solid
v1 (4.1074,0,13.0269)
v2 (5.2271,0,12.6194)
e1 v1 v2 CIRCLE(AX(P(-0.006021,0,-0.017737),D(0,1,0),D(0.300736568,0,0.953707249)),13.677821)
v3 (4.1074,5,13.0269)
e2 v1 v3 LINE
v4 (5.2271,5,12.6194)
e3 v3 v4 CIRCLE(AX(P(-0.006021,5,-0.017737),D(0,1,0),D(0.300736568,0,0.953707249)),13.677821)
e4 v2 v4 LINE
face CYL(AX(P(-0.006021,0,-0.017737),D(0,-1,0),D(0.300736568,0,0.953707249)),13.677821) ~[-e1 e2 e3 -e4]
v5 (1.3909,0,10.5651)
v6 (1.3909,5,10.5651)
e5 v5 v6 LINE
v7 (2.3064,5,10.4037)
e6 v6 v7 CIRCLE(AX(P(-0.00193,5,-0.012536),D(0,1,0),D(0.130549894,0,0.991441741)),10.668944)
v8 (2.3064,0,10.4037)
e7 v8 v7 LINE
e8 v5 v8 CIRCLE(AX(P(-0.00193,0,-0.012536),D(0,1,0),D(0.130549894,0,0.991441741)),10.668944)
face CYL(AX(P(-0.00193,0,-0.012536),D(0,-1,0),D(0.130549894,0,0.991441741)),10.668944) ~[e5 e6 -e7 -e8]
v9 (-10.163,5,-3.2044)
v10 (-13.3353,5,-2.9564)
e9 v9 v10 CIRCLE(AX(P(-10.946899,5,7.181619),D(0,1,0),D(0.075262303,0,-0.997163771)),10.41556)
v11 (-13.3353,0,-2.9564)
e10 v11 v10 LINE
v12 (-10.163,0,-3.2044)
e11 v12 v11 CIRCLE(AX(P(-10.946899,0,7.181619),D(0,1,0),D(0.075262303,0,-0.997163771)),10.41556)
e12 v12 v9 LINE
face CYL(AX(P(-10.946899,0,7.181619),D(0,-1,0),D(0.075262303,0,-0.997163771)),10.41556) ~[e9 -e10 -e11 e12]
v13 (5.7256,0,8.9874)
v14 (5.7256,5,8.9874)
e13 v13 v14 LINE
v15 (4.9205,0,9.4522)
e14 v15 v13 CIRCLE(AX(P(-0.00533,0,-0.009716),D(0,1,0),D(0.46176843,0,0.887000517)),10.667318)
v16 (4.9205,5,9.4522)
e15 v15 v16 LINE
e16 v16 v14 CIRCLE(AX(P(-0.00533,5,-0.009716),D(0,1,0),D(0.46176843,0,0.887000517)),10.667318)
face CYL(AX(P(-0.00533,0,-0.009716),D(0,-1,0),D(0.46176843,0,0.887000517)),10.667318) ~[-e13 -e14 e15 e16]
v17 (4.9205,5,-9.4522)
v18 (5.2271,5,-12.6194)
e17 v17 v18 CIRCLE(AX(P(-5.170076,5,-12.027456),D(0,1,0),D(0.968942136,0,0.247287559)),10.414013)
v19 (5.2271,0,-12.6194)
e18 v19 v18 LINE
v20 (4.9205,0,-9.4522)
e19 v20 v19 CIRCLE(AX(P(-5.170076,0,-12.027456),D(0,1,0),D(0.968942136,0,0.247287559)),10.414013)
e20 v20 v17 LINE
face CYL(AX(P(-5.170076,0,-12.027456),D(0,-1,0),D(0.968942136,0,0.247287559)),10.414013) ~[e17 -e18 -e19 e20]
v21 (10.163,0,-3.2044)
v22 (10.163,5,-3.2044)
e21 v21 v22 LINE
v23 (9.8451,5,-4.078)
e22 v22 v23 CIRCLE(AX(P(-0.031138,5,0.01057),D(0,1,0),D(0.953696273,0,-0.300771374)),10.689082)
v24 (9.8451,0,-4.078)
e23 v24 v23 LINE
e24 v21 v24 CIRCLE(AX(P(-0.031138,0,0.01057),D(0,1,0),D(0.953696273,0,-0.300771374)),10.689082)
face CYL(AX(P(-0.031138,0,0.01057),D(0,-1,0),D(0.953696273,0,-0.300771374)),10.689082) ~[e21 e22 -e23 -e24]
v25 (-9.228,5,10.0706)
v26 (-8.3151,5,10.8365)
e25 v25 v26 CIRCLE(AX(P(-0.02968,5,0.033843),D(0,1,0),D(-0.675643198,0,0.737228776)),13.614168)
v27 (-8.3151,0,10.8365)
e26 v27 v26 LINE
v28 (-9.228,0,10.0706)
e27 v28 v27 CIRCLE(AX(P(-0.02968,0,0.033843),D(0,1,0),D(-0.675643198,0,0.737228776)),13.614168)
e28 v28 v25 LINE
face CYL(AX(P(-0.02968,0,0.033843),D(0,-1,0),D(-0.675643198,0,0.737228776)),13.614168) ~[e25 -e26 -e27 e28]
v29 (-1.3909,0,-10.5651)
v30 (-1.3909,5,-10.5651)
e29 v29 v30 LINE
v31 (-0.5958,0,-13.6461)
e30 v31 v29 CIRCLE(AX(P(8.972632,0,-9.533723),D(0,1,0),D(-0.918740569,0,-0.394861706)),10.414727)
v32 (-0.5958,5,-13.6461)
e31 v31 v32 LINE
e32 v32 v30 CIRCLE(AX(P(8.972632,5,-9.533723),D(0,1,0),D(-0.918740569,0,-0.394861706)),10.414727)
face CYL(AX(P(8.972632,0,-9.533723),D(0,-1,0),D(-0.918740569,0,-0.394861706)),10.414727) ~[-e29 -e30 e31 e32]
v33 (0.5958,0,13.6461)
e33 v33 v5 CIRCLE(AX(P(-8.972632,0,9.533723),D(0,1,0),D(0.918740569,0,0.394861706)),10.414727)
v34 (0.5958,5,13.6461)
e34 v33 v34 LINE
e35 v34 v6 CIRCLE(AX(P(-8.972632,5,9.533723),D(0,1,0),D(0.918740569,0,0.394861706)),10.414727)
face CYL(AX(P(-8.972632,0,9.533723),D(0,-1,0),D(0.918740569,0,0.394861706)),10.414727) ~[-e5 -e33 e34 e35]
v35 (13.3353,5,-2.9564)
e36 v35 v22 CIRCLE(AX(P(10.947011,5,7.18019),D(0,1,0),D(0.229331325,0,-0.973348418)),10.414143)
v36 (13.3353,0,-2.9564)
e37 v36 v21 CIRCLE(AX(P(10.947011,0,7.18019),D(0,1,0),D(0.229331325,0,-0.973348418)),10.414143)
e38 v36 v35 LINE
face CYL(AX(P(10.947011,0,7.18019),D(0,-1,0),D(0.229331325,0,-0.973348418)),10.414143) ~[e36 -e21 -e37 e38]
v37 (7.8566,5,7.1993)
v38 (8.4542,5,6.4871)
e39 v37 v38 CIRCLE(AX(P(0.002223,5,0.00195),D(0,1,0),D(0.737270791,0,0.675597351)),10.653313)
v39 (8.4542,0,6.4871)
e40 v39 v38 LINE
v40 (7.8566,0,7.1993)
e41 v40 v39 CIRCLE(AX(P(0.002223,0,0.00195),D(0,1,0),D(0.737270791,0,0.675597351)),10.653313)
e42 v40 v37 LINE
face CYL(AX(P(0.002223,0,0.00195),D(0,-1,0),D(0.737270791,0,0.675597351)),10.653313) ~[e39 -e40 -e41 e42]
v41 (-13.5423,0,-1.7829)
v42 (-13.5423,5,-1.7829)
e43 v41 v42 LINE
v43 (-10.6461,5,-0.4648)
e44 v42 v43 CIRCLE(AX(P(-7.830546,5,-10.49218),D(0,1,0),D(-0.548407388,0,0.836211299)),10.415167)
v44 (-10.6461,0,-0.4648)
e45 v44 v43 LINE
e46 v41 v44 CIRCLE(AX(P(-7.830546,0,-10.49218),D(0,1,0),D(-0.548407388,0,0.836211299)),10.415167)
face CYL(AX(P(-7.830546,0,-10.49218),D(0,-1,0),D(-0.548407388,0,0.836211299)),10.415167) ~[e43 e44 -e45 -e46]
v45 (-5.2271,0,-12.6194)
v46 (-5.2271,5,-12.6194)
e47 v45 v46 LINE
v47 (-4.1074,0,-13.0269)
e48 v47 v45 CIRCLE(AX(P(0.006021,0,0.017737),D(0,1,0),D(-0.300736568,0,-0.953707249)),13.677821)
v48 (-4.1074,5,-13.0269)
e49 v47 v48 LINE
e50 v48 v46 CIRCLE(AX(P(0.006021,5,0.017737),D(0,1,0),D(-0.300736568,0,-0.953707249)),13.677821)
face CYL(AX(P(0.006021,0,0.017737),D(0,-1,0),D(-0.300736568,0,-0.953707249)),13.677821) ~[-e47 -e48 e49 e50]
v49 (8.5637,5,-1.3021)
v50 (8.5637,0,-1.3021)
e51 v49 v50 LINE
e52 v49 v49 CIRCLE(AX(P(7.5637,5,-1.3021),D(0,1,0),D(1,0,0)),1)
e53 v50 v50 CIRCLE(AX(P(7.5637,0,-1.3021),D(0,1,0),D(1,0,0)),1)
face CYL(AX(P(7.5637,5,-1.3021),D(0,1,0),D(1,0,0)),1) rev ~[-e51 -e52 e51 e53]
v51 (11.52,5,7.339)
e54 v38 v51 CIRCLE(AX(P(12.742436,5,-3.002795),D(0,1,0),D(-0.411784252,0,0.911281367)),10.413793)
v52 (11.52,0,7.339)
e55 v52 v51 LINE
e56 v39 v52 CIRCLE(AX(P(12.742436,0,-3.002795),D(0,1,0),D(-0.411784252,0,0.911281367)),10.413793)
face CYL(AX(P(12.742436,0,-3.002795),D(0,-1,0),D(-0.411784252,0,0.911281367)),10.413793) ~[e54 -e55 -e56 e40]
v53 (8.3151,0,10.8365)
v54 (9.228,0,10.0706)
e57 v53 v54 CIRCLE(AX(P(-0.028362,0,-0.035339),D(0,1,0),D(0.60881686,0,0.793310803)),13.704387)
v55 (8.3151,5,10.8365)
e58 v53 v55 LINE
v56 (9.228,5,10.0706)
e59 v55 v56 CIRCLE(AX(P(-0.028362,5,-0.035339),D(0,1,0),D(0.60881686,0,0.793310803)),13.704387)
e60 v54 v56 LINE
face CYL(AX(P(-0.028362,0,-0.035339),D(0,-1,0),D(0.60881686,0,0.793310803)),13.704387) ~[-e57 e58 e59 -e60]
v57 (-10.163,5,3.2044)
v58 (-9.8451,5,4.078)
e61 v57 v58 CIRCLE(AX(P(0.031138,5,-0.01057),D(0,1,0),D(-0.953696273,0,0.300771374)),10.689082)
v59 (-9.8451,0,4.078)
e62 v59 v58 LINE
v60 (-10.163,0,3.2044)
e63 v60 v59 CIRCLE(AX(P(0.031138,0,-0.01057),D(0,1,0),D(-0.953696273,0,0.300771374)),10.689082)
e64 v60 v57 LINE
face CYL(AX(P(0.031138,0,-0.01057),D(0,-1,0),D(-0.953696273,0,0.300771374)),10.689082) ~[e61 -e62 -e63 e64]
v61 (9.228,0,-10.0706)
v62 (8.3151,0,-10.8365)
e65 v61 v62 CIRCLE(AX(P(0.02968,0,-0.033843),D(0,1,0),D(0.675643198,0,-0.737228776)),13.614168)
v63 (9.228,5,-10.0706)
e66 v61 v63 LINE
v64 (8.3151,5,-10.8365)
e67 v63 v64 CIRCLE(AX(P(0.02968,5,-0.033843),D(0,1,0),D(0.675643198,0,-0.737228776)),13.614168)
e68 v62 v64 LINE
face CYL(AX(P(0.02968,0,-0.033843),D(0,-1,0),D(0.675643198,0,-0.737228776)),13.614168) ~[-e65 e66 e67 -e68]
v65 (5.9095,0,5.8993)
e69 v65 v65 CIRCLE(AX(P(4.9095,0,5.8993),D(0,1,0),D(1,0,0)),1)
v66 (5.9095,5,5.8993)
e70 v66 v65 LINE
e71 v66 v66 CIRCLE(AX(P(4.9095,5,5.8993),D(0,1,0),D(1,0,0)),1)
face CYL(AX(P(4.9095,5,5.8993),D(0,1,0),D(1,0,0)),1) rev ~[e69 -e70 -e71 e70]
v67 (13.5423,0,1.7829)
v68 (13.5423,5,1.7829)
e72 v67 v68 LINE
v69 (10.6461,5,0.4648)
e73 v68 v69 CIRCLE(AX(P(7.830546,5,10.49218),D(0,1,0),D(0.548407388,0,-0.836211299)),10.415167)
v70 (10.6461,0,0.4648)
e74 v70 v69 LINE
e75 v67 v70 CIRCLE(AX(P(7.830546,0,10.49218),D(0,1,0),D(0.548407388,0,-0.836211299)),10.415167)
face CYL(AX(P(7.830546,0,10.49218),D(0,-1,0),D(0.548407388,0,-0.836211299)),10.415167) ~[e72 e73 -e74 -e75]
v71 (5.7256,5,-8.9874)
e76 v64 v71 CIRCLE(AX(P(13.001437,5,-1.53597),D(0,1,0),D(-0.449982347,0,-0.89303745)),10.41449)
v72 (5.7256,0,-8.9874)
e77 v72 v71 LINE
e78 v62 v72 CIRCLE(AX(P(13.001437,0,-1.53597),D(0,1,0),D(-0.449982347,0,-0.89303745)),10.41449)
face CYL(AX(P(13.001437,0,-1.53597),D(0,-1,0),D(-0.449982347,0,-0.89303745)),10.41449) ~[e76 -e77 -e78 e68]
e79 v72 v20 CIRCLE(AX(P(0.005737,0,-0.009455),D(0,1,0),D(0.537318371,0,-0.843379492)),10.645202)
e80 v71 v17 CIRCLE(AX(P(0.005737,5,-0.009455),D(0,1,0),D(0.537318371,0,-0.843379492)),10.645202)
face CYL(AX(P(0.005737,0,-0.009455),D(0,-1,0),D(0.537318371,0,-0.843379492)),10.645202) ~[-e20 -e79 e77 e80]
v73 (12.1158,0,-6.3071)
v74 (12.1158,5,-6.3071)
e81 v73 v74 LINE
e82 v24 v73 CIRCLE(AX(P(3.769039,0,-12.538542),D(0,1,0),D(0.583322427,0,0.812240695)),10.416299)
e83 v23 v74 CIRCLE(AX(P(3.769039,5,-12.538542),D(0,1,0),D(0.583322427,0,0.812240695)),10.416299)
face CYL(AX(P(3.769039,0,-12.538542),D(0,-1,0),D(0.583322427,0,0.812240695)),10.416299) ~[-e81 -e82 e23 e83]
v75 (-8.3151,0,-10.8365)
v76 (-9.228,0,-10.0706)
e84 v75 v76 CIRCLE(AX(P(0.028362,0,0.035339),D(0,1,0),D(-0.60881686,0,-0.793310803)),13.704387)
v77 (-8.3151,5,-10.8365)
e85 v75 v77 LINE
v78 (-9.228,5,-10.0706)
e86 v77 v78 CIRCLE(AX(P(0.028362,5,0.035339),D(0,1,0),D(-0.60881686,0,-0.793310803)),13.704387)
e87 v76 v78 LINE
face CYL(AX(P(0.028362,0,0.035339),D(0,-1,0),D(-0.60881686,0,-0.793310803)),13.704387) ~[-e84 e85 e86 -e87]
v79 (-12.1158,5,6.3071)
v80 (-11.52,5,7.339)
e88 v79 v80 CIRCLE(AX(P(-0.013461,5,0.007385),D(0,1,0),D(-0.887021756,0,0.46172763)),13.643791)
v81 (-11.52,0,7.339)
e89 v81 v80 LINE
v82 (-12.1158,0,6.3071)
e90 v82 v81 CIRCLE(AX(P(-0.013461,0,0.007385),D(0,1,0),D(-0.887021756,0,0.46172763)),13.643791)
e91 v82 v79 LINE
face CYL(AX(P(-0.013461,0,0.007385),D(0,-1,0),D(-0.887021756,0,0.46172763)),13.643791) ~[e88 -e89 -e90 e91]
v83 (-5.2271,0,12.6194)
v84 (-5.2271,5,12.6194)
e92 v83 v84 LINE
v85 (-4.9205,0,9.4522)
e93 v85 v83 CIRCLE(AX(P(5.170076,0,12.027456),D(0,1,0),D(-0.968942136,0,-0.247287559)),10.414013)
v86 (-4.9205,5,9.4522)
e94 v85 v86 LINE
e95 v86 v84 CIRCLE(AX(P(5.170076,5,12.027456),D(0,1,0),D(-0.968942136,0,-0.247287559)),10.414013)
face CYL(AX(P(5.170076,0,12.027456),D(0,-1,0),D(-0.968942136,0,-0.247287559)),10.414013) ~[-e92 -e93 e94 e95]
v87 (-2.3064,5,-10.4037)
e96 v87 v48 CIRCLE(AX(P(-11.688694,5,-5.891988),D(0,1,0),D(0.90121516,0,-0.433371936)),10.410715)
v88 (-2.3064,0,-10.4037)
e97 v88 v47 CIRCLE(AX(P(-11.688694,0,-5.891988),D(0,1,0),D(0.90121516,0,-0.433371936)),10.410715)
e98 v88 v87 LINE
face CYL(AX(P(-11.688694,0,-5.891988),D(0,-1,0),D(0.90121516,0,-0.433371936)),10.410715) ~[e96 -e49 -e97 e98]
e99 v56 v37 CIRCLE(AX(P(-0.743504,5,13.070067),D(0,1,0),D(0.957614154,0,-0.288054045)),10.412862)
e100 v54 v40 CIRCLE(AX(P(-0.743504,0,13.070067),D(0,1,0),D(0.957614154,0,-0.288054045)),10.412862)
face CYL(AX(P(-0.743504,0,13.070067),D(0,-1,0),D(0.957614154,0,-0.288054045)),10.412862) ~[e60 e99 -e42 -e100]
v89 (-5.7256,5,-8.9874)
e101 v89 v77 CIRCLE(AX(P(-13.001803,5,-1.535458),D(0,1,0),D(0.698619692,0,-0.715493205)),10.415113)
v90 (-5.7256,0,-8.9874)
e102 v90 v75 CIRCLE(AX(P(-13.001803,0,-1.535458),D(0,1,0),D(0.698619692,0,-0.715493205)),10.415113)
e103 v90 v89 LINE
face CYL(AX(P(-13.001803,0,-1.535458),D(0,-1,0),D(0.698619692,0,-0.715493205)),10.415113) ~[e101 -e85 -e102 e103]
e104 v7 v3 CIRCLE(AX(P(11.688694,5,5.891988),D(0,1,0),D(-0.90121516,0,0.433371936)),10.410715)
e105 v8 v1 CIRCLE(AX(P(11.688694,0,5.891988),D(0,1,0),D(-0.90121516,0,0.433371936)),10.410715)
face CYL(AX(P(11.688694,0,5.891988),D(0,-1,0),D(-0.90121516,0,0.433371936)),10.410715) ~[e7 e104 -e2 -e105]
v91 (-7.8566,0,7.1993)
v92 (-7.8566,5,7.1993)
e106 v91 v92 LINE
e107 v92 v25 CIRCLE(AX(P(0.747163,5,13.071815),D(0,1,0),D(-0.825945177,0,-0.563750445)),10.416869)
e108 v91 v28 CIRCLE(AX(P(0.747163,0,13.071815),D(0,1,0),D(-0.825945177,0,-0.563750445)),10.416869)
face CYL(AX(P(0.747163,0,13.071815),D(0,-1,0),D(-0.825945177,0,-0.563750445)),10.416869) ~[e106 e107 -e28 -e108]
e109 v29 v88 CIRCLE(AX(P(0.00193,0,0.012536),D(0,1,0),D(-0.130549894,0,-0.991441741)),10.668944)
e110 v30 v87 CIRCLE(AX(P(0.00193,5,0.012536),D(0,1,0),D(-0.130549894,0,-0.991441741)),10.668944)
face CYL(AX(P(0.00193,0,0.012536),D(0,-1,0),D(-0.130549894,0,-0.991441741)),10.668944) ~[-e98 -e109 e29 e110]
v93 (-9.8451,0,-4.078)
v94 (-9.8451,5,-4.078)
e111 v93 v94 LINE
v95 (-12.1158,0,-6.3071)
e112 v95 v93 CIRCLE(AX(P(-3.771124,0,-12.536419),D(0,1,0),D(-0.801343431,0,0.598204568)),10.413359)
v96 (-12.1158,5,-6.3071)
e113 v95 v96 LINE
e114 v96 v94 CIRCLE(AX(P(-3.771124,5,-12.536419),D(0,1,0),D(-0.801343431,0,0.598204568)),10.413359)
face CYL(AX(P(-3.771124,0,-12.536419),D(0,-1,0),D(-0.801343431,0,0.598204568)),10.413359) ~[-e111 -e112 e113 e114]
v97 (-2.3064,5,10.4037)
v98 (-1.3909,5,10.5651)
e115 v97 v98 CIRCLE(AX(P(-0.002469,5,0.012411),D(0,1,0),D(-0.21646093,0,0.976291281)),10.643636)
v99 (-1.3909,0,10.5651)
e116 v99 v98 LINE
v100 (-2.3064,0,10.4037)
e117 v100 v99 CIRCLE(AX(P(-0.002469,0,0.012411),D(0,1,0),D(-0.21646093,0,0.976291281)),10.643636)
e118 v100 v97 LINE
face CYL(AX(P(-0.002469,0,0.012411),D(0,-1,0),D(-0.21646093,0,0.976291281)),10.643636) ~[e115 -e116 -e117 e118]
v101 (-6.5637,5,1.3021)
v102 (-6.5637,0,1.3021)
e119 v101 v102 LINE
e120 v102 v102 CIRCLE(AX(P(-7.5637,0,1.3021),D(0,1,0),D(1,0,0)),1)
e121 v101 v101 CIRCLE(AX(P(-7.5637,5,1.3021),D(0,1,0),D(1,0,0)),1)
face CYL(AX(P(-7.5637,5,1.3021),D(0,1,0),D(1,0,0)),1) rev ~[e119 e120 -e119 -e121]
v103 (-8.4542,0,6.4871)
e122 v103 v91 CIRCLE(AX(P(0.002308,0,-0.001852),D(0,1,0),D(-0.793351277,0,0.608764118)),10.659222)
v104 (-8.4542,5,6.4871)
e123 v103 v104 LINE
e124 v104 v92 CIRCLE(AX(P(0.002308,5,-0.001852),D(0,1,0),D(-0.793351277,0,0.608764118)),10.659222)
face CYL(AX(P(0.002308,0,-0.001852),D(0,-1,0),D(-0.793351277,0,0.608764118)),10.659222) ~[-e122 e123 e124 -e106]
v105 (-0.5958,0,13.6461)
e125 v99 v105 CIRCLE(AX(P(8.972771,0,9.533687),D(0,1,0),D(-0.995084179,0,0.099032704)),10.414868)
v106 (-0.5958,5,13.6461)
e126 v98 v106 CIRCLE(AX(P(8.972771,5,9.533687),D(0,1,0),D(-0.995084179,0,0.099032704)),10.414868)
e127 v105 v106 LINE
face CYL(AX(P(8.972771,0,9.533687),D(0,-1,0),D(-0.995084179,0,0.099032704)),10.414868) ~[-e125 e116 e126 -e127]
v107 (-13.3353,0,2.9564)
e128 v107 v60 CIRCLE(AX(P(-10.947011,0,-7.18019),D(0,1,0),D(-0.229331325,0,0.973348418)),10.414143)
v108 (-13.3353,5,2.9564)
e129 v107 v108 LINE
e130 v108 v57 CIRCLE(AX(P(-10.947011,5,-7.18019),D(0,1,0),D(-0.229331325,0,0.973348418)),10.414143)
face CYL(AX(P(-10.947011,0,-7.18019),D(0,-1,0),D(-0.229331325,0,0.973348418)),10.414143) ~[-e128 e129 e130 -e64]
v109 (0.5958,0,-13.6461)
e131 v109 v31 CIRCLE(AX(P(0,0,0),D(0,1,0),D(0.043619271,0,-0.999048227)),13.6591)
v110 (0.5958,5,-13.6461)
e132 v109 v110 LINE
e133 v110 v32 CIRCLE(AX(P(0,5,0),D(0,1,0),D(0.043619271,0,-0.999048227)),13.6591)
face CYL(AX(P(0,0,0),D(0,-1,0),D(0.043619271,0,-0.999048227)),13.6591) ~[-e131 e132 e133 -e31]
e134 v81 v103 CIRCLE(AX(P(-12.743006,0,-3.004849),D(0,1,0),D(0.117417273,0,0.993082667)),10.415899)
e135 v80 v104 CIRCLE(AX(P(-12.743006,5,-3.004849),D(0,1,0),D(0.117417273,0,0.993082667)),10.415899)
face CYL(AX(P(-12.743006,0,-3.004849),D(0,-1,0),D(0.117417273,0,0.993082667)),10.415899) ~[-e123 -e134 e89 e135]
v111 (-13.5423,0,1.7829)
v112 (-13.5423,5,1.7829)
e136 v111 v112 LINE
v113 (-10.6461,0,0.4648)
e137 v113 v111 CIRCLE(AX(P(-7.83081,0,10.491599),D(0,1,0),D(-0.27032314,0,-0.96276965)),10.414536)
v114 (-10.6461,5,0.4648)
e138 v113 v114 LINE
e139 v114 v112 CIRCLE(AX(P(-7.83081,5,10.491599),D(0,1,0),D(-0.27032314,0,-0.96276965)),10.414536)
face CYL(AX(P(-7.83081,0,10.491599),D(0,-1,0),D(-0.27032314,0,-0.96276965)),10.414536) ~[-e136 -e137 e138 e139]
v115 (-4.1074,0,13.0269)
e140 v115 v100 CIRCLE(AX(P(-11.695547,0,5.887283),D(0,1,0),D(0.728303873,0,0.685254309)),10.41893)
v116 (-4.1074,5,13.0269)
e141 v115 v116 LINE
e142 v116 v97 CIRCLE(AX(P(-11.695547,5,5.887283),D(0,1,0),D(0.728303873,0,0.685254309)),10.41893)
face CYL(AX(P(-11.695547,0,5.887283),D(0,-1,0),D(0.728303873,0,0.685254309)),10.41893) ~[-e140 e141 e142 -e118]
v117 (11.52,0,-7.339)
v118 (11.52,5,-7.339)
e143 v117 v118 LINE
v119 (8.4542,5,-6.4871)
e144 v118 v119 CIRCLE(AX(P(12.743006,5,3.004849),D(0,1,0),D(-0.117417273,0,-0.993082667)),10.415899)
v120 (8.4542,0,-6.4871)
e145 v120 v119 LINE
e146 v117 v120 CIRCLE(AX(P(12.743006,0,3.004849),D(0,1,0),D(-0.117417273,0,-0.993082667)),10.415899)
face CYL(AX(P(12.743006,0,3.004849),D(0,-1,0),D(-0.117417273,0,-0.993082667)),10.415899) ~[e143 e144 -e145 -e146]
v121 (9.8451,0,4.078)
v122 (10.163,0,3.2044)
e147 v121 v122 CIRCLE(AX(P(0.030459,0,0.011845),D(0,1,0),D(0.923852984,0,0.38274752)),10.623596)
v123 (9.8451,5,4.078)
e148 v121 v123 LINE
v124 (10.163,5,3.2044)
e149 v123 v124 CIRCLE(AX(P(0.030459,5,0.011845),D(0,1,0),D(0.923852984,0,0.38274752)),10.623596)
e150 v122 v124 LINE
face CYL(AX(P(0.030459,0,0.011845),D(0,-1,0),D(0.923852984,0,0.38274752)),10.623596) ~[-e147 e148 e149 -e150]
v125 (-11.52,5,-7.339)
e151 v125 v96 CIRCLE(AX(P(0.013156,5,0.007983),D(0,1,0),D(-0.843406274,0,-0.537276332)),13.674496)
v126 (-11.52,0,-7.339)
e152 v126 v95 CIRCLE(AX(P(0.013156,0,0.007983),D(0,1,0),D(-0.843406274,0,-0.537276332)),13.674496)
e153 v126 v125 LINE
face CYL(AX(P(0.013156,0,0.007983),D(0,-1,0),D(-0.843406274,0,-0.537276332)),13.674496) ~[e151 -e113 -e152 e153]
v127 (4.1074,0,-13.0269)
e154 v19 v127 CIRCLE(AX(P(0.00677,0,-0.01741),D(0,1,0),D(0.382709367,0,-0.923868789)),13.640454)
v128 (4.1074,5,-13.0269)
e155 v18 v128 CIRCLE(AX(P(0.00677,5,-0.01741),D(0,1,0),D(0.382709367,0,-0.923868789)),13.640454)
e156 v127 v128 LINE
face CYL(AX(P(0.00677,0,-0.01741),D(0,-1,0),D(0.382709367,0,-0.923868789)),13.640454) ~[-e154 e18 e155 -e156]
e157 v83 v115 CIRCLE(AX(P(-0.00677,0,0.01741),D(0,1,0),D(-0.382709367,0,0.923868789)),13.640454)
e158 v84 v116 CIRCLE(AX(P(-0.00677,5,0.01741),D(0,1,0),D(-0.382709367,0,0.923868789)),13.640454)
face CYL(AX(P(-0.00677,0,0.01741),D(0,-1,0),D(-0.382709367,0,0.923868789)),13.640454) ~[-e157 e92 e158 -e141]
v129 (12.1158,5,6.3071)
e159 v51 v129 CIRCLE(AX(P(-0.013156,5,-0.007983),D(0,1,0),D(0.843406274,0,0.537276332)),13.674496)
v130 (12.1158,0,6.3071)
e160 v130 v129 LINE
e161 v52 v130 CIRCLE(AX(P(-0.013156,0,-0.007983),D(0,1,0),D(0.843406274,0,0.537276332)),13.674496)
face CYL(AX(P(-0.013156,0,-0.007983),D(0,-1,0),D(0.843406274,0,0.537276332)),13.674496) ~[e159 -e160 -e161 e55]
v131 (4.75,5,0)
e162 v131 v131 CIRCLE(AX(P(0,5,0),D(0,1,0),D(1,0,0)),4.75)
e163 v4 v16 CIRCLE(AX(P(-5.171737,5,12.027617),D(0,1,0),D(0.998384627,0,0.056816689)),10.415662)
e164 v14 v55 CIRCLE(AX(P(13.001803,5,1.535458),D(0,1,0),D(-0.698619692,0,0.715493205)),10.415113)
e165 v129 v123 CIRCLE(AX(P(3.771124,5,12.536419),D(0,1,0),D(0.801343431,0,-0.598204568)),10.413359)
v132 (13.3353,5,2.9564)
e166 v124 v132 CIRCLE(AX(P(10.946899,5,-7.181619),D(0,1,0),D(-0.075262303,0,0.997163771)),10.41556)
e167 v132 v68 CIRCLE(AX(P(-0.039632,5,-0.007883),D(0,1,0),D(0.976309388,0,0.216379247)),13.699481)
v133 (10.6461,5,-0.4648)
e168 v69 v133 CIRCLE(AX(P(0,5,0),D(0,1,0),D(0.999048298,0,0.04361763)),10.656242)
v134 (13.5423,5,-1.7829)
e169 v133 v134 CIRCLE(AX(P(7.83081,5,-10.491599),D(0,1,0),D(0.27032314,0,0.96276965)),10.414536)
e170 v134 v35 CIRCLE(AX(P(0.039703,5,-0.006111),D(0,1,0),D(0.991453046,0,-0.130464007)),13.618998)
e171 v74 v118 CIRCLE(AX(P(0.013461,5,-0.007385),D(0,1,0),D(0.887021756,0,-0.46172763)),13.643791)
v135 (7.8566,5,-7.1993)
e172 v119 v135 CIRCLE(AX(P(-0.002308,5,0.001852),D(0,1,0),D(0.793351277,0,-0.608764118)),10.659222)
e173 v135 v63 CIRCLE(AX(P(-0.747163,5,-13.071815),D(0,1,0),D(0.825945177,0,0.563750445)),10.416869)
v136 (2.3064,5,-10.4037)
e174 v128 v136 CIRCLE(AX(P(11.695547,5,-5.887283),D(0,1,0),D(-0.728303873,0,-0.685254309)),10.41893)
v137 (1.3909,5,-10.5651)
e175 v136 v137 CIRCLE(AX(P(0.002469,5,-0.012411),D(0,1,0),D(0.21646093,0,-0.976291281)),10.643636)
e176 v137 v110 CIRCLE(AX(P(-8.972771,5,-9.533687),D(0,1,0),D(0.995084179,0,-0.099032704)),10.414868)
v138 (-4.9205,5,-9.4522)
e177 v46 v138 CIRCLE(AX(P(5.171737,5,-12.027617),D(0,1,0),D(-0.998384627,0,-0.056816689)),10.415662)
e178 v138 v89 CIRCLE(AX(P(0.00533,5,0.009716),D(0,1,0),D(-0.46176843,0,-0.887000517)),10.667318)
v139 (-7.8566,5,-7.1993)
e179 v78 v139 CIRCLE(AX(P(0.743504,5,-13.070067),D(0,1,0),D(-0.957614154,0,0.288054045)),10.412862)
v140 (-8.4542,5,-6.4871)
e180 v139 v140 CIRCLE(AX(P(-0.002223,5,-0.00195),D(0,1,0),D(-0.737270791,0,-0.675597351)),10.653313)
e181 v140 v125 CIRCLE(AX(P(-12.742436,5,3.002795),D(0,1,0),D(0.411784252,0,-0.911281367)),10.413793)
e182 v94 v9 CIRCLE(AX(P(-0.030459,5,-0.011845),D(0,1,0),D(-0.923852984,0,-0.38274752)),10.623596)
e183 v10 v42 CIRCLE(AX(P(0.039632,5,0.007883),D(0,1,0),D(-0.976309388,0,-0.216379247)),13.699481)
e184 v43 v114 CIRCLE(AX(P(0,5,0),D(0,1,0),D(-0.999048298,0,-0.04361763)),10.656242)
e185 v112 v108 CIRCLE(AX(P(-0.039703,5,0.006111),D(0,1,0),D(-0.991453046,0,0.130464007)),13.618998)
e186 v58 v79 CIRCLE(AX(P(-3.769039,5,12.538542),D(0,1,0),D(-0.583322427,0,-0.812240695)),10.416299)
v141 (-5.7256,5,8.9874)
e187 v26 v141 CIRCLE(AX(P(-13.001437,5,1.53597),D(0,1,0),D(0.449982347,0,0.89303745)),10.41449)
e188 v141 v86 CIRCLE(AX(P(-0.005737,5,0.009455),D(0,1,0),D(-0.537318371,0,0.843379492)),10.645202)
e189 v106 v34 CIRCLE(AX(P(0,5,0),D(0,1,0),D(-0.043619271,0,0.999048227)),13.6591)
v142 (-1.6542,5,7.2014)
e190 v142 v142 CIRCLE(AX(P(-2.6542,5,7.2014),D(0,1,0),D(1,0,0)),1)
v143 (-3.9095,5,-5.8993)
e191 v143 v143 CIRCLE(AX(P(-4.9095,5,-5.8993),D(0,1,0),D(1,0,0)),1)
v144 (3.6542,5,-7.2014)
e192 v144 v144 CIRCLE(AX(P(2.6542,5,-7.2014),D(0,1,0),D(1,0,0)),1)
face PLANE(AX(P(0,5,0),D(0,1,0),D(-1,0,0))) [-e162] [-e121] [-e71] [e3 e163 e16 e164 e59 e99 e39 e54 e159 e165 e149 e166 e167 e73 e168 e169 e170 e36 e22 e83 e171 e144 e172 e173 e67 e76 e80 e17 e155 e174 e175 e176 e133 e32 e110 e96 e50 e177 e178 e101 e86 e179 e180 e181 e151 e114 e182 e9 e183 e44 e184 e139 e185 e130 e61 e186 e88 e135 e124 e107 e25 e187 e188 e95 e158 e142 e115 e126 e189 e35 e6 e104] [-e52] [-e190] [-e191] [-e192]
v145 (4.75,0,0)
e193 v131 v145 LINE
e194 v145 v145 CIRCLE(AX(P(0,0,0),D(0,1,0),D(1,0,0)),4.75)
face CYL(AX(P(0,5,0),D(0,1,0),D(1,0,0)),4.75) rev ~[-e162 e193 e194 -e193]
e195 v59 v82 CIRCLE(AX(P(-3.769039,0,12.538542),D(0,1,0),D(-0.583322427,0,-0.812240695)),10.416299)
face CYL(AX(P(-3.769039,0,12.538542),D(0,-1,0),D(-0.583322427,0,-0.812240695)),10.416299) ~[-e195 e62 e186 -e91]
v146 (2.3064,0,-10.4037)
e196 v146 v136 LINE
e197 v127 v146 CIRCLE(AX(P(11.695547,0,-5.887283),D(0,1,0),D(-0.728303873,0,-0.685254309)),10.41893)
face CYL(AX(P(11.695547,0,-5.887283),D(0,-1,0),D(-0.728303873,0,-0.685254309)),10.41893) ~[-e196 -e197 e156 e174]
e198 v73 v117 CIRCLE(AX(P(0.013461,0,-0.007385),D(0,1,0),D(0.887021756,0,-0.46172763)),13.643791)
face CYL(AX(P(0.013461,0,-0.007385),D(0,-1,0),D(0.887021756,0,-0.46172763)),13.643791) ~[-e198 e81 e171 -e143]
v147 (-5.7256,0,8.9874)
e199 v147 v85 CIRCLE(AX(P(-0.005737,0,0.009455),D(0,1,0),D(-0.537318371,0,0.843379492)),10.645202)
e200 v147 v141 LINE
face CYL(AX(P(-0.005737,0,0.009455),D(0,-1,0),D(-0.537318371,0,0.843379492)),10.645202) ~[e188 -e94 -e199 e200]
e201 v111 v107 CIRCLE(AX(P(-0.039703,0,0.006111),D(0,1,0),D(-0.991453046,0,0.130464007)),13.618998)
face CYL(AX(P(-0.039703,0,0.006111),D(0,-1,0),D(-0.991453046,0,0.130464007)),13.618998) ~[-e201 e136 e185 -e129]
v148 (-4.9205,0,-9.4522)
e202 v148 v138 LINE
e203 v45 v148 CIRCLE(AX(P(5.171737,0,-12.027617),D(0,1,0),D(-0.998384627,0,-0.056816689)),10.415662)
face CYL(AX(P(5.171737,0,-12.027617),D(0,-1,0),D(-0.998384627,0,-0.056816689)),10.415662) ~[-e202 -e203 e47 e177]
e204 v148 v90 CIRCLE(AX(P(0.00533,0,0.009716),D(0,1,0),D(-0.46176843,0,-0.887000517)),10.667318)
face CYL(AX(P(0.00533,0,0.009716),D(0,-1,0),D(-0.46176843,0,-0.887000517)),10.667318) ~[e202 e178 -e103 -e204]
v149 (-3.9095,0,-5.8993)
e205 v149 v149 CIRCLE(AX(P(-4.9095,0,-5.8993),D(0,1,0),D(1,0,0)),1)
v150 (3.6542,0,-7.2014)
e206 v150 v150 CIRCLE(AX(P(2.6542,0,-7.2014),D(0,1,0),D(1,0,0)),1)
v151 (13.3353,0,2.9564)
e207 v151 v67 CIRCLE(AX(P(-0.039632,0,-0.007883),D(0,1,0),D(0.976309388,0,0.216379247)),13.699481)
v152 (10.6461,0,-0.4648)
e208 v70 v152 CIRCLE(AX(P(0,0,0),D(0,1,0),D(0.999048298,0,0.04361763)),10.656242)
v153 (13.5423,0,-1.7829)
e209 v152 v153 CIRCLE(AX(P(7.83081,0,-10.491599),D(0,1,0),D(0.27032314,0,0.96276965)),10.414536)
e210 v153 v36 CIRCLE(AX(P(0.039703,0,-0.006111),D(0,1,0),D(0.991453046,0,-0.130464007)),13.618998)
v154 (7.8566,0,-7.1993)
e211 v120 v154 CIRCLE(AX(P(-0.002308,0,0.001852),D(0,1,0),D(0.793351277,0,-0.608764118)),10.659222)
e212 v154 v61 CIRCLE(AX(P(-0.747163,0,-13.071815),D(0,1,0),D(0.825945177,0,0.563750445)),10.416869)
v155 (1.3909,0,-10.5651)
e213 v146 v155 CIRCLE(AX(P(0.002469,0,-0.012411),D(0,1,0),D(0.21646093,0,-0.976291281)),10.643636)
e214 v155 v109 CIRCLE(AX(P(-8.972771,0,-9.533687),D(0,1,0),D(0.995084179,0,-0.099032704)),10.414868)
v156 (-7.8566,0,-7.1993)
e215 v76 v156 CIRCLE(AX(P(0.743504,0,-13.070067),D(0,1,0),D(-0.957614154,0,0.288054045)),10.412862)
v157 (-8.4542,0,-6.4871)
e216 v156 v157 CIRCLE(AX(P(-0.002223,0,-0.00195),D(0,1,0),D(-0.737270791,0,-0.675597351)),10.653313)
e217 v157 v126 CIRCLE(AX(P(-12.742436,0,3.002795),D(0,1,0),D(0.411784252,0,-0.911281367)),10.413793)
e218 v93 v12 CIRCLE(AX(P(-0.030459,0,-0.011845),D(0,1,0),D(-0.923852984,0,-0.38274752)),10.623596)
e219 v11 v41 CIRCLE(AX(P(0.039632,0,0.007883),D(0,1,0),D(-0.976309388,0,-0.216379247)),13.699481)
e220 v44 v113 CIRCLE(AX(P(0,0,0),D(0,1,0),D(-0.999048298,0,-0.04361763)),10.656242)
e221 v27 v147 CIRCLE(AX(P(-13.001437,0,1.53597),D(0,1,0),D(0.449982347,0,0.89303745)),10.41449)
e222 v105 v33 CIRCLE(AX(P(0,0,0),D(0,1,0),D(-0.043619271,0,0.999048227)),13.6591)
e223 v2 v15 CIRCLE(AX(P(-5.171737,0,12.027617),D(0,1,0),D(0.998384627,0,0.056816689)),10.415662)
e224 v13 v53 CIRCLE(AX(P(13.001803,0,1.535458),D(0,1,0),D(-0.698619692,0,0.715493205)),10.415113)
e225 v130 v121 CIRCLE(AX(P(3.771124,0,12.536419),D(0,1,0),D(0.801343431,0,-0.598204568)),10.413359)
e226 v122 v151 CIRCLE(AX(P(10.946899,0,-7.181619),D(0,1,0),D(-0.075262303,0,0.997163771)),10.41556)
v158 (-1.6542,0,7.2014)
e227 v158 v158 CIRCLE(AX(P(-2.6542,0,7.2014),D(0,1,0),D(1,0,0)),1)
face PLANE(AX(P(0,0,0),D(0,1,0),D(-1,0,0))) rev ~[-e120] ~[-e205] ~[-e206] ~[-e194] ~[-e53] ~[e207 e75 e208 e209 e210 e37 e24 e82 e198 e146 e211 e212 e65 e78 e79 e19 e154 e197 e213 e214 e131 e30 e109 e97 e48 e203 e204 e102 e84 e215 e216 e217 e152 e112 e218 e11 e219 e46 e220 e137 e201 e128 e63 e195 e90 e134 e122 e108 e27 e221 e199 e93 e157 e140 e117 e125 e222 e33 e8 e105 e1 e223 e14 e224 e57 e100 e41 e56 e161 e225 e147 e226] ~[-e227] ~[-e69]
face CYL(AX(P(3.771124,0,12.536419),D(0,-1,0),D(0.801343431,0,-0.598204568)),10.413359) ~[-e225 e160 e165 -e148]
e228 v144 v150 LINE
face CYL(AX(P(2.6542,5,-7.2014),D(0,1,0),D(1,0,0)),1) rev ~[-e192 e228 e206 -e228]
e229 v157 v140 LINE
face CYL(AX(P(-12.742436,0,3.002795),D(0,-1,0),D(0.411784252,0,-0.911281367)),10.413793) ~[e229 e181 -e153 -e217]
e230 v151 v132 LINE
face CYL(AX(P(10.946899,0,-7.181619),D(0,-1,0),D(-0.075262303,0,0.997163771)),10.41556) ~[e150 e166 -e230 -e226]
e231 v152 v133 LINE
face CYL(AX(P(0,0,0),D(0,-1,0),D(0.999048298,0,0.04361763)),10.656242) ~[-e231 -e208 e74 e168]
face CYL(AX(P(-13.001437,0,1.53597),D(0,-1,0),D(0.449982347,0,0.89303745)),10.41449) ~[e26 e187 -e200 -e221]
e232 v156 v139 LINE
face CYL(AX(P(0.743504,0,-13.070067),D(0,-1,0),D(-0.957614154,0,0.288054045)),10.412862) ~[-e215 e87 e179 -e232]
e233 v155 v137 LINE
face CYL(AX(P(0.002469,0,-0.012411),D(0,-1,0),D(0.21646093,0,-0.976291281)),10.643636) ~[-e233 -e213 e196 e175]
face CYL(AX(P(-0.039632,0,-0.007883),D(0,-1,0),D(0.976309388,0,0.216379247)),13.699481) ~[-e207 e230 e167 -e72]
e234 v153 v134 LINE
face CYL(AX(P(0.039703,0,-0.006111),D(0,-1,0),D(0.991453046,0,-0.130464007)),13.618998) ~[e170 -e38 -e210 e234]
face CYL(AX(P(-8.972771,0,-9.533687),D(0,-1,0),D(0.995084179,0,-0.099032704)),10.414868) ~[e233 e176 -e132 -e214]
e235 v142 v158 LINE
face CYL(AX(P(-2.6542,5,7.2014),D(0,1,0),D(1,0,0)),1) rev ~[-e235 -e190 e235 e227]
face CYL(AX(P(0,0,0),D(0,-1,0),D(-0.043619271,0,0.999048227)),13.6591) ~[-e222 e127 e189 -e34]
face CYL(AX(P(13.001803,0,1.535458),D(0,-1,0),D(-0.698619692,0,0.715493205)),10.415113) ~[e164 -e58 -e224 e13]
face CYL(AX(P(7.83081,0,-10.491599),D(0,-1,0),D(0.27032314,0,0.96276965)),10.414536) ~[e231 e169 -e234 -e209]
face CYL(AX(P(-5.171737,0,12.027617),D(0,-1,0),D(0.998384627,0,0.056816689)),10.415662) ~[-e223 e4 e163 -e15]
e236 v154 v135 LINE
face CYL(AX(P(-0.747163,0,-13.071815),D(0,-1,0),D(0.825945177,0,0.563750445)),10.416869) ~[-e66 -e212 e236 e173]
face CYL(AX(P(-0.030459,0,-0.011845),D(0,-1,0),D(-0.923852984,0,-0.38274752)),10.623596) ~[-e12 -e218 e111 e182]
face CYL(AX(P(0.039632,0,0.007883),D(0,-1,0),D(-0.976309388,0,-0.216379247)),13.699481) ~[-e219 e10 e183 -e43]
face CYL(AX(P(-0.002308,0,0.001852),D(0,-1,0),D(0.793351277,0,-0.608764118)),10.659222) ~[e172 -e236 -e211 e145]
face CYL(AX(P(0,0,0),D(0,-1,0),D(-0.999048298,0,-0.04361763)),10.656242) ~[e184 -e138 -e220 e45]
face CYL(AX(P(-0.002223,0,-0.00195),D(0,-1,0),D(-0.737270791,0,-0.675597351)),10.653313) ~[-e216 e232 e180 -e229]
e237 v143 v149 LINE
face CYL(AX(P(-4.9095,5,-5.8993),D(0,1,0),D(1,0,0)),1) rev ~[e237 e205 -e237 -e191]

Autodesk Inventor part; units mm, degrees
ref_plane "YZ Plane" through (0, 0, 0) normal (1, 0, 0) x (0, 1, 0)
ref_plane "XZ Plane" through (0, 0, 0) normal (0, 1, 0) x (-1, 0, 0)
ref_plane "XY Plane" through (0, 0, 0) normal (0, 0, 1) x (1, 0, 0)
sketch "Эскиз1" plane through (0, 0, 0) normal (0, 1, 0) x (-1, 0, 0)
  arc A0 (-8.6049, 20.7741) -> (-8.0517, 15.4673) centre (8.9595, 19.9228) ccw
  arc A1 (-8.0517, 15.4673) -> (-9.3692, 14.7066) centre (0, 0) ccw
  arc A2 (-9.3692, 14.7066) -> (-13.6885, 17.8391) centre (-21.7334, 2.2022) ccw
  arc A3 (-13.6885, 17.8391) -> (-15.1912, 16.5782) centre (0, 0) ccw
  arc A4 (-15.1912, 16.5782) -> (-12.8563, 11.7806) centre (1.6052, 21.7856) ccw
  arc A5 (-12.8563, 11.7806) -> (-13.8341, 10.6153) centre (0, 0) ccw
  arc A6 (-13.8341, 10.6153) -> (-18.9643, 12.0816) centre (-21.1759, -5.3638) ccw
  arc A7 (-18.9643, 12.0816) -> (-19.9451, 10.3828) centre (0, 0) ccw
  arc A8 (-19.9451, 10.3828) -> (-16.1101, 6.673) centre (-5.9427, 21.0208) ccw
  arc A9 (-16.1101, 6.673) -> (-16.6304, 5.2436) centre (0, 0) ccw
  arc A10 (-16.6304, 5.2436) -> (-21.9528, 4.8668) centre (-18.0643, -12.2829) ccw
  arc A11 (-21.9528, 4.8668) -> (-22.2934, 2.935) centre (0, 0) ccw
  arc A12 (-22.2934, 2.935) -> (-17.4209, 0.7606) centre (-12.7739, 17.7205) ccw
  arc A13 (-17.4209, 0.7606) -> (-17.4209, -0.7606) centre (0, 0) ccw
  arc A14 (-17.4209, -0.7606) -> (-22.2934, -2.935) centre (-12.7739, -17.7205) ccw
  arc A15 (-22.2934, -2.935) -> (-21.9528, -4.8668) centre (0, 0) ccw
  arc A16 (-21.9528, -4.8668) -> (-16.6304, -5.2436) centre (-18.0643, 12.2829) ccw
  arc A17 (-16.6304, -5.2436) -> (-16.1101, -6.673) centre (0, 0) ccw
  arc A18 (-16.1101, -6.673) -> (-19.9451, -10.3828) centre (-5.9427, -21.0208) ccw
  arc A19 (-19.9451, -10.3828) -> (-18.9643, -12.0816) centre (0, 0) ccw
  arc A20 (-18.9643, -12.0816) -> (-13.8341, -10.6153) centre (-21.1759, 5.3638) ccw
  arc A21 (-13.8341, -10.6153) -> (-12.8563, -11.7806) centre (0, 0) ccw
  arc A22 (-12.8563, -11.7806) -> (-15.1912, -16.5782) centre (1.6052, -21.7856) ccw
  arc A23 (-15.1912, -16.5782) -> (-13.6885, -17.8391) centre (0, 0) ccw
  arc A24 (-13.6885, -17.8391) -> (-9.3692, -14.7066) centre (-21.7334, -2.2022) ccw
  arc A25 (-9.3692, -14.7066) -> (-8.0517, -15.4673) centre (0, 0) ccw
  arc A26 (-8.0517, -15.4673) -> (-8.6049, -20.7741) centre (8.9595, -19.9228) ccw
  arc A27 (-8.6049, -20.7741) -> (-6.7616, -21.445) centre (0, 0) ccw
  arc A28 (-6.7616, -21.445) -> (-3.7742, -17.0242) centre (-19.6695, -9.5027) ccw
  arc A29 (-3.7742, -17.0242) -> (-2.2761, -17.2883) centre (0, 0) ccw
  arc A30 (-2.2761, -17.2883) -> (-0.9808, -22.4644) centre (15.2332, -15.6569) ccw
  arc A31 (-0.9808, -22.4644) -> (0.9808, -22.4644) centre (0, 0) ccw
  arc A32 (0.9808, -22.4644) -> (2.2761, -17.2883) centre (-15.2332, -15.6569) ccw
  arc A33 (2.2761, -17.2883) -> (3.7742, -17.0242) centre (0, 0) ccw
  arc A34 (3.7742, -17.0242) -> (6.7616, -21.445) centre (19.6695, -9.5027) ccw
  arc A35 (6.7616, -21.445) -> (8.6049, -20.7741) centre (0, 0) ccw
  arc A36 (8.6049, -20.7741) -> (8.0517, -15.4673) centre (-8.9595, -19.9228) ccw
  arc A37 (8.0517, -15.4673) -> (9.3692, -14.7066) centre (0, 0) ccw
  arc A38 (9.3692, -14.7066) -> (13.6885, -17.8391) centre (21.7334, -2.2022) ccw
  arc A39 (13.6885, -17.8391) -> (15.1912, -16.5782) centre (0, 0) ccw
  arc A40 (15.1912, -16.5782) -> (12.8563, -11.7806) centre (-1.6052, -21.7856) ccw
  arc A41 (12.8563, -11.7806) -> (13.8341, -10.6153) centre (0, 0) ccw
  arc A42 (13.8341, -10.6153) -> (18.9643, -12.0816) centre (21.1759, 5.3638) ccw
  arc A43 (18.9643, -12.0816) -> (19.9451, -10.3828) centre (0, 0) ccw
  arc A44 (19.9451, -10.3828) -> (16.1101, -6.673) centre (5.9427, -21.0208) ccw
  arc A45 (16.1101, -6.673) -> (16.6304, -5.2436) centre (0, 0) ccw
  arc A46 (16.6304, -5.2436) -> (21.9528, -4.8668) centre (18.0643, 12.2829) ccw
  arc A47 (21.9528, -4.8668) -> (22.2934, -2.935) centre (0, 0) ccw
  arc A48 (22.2934, -2.935) -> (17.4209, -0.7606) centre (12.7739, -17.7205) ccw
  arc A49 (17.4209, -0.7606) -> (17.4209, 0.7606) centre (0, 0) ccw
  arc A50 (17.4209, 0.7606) -> (22.2934, 2.935) centre (12.7739, 17.7205) ccw
  arc A51 (22.2934, 2.935) -> (21.9528, 4.8668) centre (0, 0) ccw
  arc A52 (21.9528, 4.8668) -> (16.6304, 5.2436) centre (18.0643, -12.2829) ccw
  arc A53 (16.6304, 5.2436) -> (16.1101, 6.673) centre (0, 0) ccw
  arc A54 (16.1101, 6.673) -> (19.9451, 10.3828) centre (5.9427, 21.0208) ccw
  arc A55 (19.9451, 10.3828) -> (18.9643, 12.0816) centre (0, 0) ccw
  arc A56 (18.9643, 12.0816) -> (13.8341, 10.6153) centre (21.1759, -5.3638) ccw
  arc A57 (13.8341, 10.6153) -> (12.8563, 11.7806) centre (0, 0) ccw
  arc A58 (12.8563, 11.7806) -> (15.1912, 16.5782) centre (-1.6052, 21.7856) ccw
  arc A59 (15.1912, 16.5782) -> (13.6885, 17.8391) centre (0, 0) ccw
  arc A60 (13.6885, 17.8391) -> (9.3692, 14.7066) centre (21.7334, 2.2022) ccw
  arc A61 (9.3692, 14.7066) -> (8.0517, 15.4673) centre (0, 0) ccw
  arc A62 (8.0517, 15.4673) -> (8.6049, 20.7741) centre (-8.9595, 19.9228) ccw
  arc A63 (8.6049, 20.7741) -> (6.7616, 21.445) centre (0, 0) ccw
  arc A64 (6.7616, 21.445) -> (3.7742, 17.0242) centre (19.6695, 9.5027) ccw
  arc A65 (3.7742, 17.0242) -> (2.2761, 17.2883) centre (0, 0) ccw
  arc A66 (2.2761, 17.2883) -> (0.9808, 22.4644) centre (-15.2332, 15.6569) ccw
  arc A67 (0.9808, 22.4644) -> (-0.9808, 22.4644) centre (0, 0) ccw
  arc A68 (-0.9808, 22.4644) -> (-2.2761, 17.2883) centre (15.2332, 15.6569) ccw
  arc A69 (-2.2761, 17.2883) -> (-3.7742, 17.0242) centre (0, 0) ccw
  arc A70 (-3.7742, 17.0242) -> (-6.7616, 21.445) centre (-19.6695, 9.5027) ccw
  arc A71 (-6.7616, 21.445) -> (-8.6049, 20.7741) centre (0, 0) ccw
  arc A72 (-5.2271, 12.6194) -> (-4.9205, 9.4522) centre (5.1709, 12.0276) ccw
  arc A73 (-4.9205, 9.4522) -> (-5.7256, 8.9874) centre (0, 0) ccw
  arc A74 (-5.7256, 8.9874) -> (-8.3151, 10.8365) centre (-13.0016, 1.5357) ccw
  arc A75 (-8.3151, 10.8365) -> (-9.228, 10.0706) centre (0, 0) ccw
  arc A76 (-9.228, 10.0706) -> (-7.8566, 7.1993) centre (0.7454, 13.0708) ccw
  arc A77 (-7.8566, 7.1993) -> (-8.4542, 6.4871) centre (0, 0) ccw
  arc A78 (-8.4542, 6.4871) -> (-11.52, 7.339) centre (-12.7428, -3.0038) ccw
  arc A79 (-11.52, 7.339) -> (-12.1158, 6.3071) centre (0, 0) ccw
  arc A80 (-12.1158, 6.3071) -> (-9.8451, 4.078) centre (-3.77, 12.5374) ccw
  arc A81 (-9.8451, 4.078) -> (-10.163, 3.2044) centre (0, 0) ccw
  arc A82 (-10.163, 3.2044) -> (-13.3353, 2.9564) centre (-10.9469, -7.1809) ccw
  arc A83 (-13.3353, 2.9564) -> (-13.5423, 1.7829) centre (0, 0) ccw
  arc A84 (-13.5423, 1.7829) -> (-10.6461, 0.4648) centre (-7.8307, 10.4919) ccw
  arc A85 (-10.6461, 0.4648) -> (-10.6461, -0.4648) centre (0, 0) ccw
  arc A86 (-10.6461, -0.4648) -> (-13.5423, -1.7829) centre (-7.8307, -10.4919) ccw
  arc A87 (-13.5423, -1.7829) -> (-13.3353, -2.9564) centre (0, 0) ccw
  arc A88 (-13.3353, -2.9564) -> (-10.163, -3.2044) centre (-10.9469, 7.1809) ccw
  arc A89 (-10.163, -3.2044) -> (-9.8451, -4.078) centre (0, 0) ccw
  arc A90 (-9.8451, -4.078) -> (-12.1158, -6.3071) centre (-3.77, -12.5374) ccw
  arc A91 (-12.1158, -6.3071) -> (-11.52, -7.339) centre (0, 0) ccw
  arc A92 (-11.52, -7.339) -> (-8.4542, -6.4871) centre (-12.7428, 3.0038) ccw
  arc A93 (-8.4542, -6.4871) -> (-7.8566, -7.1993) centre (0, 0) ccw
  arc A94 (-7.8566, -7.1993) -> (-9.228, -10.0706) centre (0.7454, -13.0708) ccw
  arc A95 (-9.228, -10.0706) -> (-8.3151, -10.8365) centre (0, 0) ccw
  arc A96 (-8.3151, -10.8365) -> (-5.7256, -8.9874) centre (-13.0016, -1.5357) ccw
  arc A97 (-5.7256, -8.9874) -> (-4.9205, -9.4522) centre (0, 0) ccw
  arc A98 (-4.9205, -9.4522) -> (-5.2271, -12.6194) centre (5.1709, -12.0276) ccw
  arc A99 (-5.2271, -12.6194) -> (-4.1074, -13.0269) centre (0, 0) ccw
  arc A100 (-4.1074, -13.0269) -> (-2.3064, -10.4037) centre (-11.6923, -5.8899) ccw
  arc A101 (-2.3064, -10.4037) -> (-1.3909, -10.5651) centre (0, 0) ccw
  arc A102 (-1.3909, -10.5651) -> (-0.5958, -13.6461) centre (8.9727, -9.5337) ccw
  arc A103 (-0.5958, -13.6461) -> (0.5958, -13.6461) centre (0, 0) ccw
  arc A104 (0.5958, -13.6461) -> (1.3909, -10.5651) centre (-8.9727, -9.5337) ccw
  arc A105 (1.3909, -10.5651) -> (2.3064, -10.4037) centre (0, 0) ccw
  arc A106 (2.3064, -10.4037) -> (4.1074, -13.0269) centre (11.6923, -5.8899) ccw
  arc A107 (4.1074, -13.0269) -> (5.2271, -12.6194) centre (0, 0) ccw
  arc A108 (5.2271, -12.6194) -> (4.9205, -9.4522) centre (-5.1709, -12.0276) ccw
  arc A109 (4.9205, -9.4522) -> (5.7256, -8.9874) centre (0, 0) ccw
  arc A110 (5.7256, -8.9874) -> (8.3151, -10.8365) centre (13.0016, -1.5357) ccw
  arc A111 (8.3151, -10.8365) -> (9.228, -10.0706) centre (0, 0) ccw
  arc A112 (9.228, -10.0706) -> (7.8566, -7.1993) centre (-0.7454, -13.0708) ccw
  arc A113 (7.8566, -7.1993) -> (8.4542, -6.4871) centre (0, 0) ccw
  arc A114 (8.4542, -6.4871) -> (11.52, -7.339) centre (12.7428, 3.0038) ccw
  arc A115 (11.52, -7.339) -> (12.1158, -6.3071) centre (0, 0) ccw
  arc A116 (12.1158, -6.3071) -> (9.8451, -4.078) centre (3.77, -12.5374) ccw
  arc A117 (9.8451, -4.078) -> (10.163, -3.2044) centre (0, 0) ccw
  arc A118 (10.163, -3.2044) -> (13.3353, -2.9564) centre (10.9469, 7.1809) ccw
  arc A119 (13.3353, -2.9564) -> (13.5423, -1.7829) centre (0, 0) ccw
  arc A120 (13.5423, -1.7829) -> (10.6461, -0.4648) centre (7.8307, -10.4919) ccw
  arc A121 (10.6461, -0.4648) -> (10.6461, 0.4648) centre (0, 0) ccw
  arc A122 (10.6461, 0.4648) -> (13.5423, 1.7829) centre (7.8307, 10.4919) ccw
  arc A123 (13.5423, 1.7829) -> (13.3353, 2.9564) centre (0, 0) ccw
  arc A124 (13.3353, 2.9564) -> (10.163, 3.2044) centre (10.9469, -7.1809) ccw
  arc A125 (10.163, 3.2044) -> (9.8451, 4.078) centre (0, 0) ccw
  arc A126 (9.8451, 4.078) -> (12.1158, 6.3071) centre (3.77, 12.5374) ccw
  arc A127 (12.1158, 6.3071) -> (11.52, 7.339) centre (0, 0) ccw
  arc A128 (11.52, 7.339) -> (8.4542, 6.4871) centre (12.7428, -3.0038) ccw
  arc A129 (8.4542, 6.4871) -> (7.8566, 7.1993) centre (0, 0) ccw
  arc A130 (7.8566, 7.1993) -> (9.228, 10.0706) centre (-0.7454, 13.0708) ccw
  arc A131 (9.228, 10.0706) -> (8.3151, 10.8365) centre (0, 0) ccw
  arc A132 (8.3151, 10.8365) -> (5.7256, 8.9874) centre (13.0016, 1.5357) ccw
  arc A133 (5.7256, 8.9874) -> (4.9205, 9.4522) centre (0, 0) ccw
  arc A134 (4.9205, 9.4522) -> (5.2271, 12.6194) centre (-5.1709, 12.0276) ccw
  arc A135 (5.2271, 12.6194) -> (4.1074, 13.0269) centre (0, 0) ccw
  arc A136 (4.1074, 13.0269) -> (2.3064, 10.4037) centre (11.6923, 5.8899) ccw
  arc A137 (2.3064, 10.4037) -> (1.3909, 10.5651) centre (0, 0) ccw
  arc A138 (1.3909, 10.5651) -> (0.5958, 13.6461) centre (-8.9727, 9.5337) ccw
  arc A139 (0.5958, 13.6461) -> (-0.5958, 13.6461) centre (0, 0) ccw
  arc A140 (-0.5958, 13.6461) -> (-1.3909, 10.5651) centre (8.9727, 9.5337) ccw
  arc A141 (-1.3909, 10.5651) -> (-2.3064, 10.4037) centre (0, 0) ccw
  arc A142 (-2.3064, 10.4037) -> (-4.1074, 13.0269) centre (-11.6923, 5.8899) ccw
  arc A143 (-4.1074, 13.0269) -> (-5.2271, 12.6194) centre (0, 0) ccw
extrude "Выдавливание1" add sketch "Эскиз1" along normal blind 5 contours A143 A142 A141 A140 A139 A138 A137 A136 A135 A134 A133 A132 A131 A130 A129 A128 A127 A126 A125 A124 A123 A122 A121 A120 A119 A118 A117 A116 A115 A114 A113 A112 A111 A110 A109 A108 A107 A106 A105 A104 A103 A102 A101 A100 A99 A98 A97 A96 A95 A94 A93 A92 A91 A90 A89 A88 A87 A86 A85 A84 A83 A82 A81 A80 A79 A78 A77 A76 A75 A74 A73 A72
sketch "Эскиз2" plane through (0, 5, 0) normal (0, 1, 0) x (1, 0, 0)
  arc A0 (14.2029, 0.3107) -> (13.9664, 4.3996) centre (13.4768, 2.32) ccw
  line L0 (13.9664, 4.3996) -> (5.393, 4.3996)
  line L1 (5.393, 4.3996) -> (6.8323, 12.4554)
  arc A1 (6.8323, 12.4554) -> (3.173, 14.2951) centre (4.7292, 12.8312) ccw
  line L2 (3.173, 14.2951) -> (-1.1137, 6.8702)
  line L3 (-1.1137, 6.8702) -> (-7.3706, 12.1447)
  arc A2 (-7.3706, 12.1447) -> (-10.7934, 9.8955) centre (-8.7476, 10.5112) ccw
  line L4 (-10.7934, 9.8955) -> (-6.5067, 2.4706)
  line L5 (-6.5067, 2.4706) -> (-14.2029, -0.3107)
  arc A3 (-14.2029, -0.3107) -> (-13.9664, -4.3996) centre (-13.4768, -2.32) ccw
  line L6 (-13.9664, -4.3996) -> (-5.393, -4.3996)
  line L7 (-5.393, -4.3996) -> (-6.8323, -12.4554)
  arc A4 (-6.8323, -12.4554) -> (-3.173, -14.2951) centre (-4.7292, -12.8312) ccw
  line L8 (-3.173, -14.2951) -> (1.1137, -6.8702)
  line L9 (1.1137, -6.8702) -> (7.3706, -12.1447)
  arc A5 (7.3706, -12.1447) -> (10.7934, -9.8955) centre (8.7476, -10.5112) ccw
  line L10 (10.7934, -9.8955) -> (6.5067, -2.4706)
  line L11 (6.5067, -2.4706) -> (14.2029, 0.3107)
  circle A6 centre (7.5637, 1.3021) radius 1
  circle A7 centre (13.4768, 2.32) radius 1
  circle A8 centre (6.8286, -8.2053) radius 1
  circle A9 centre (-2.6542, -7.2014) radius 1
  circle A10 centre (-4.7292, -12.8312) radius 1
  circle A11 centre (-10.5203, -1.8111) radius 1
  circle A12 centre (-4.9095, 5.8993) radius 1
  circle A13 centre (-8.7476, 10.5112) radius 1
  circle A14 centre (3.6917, 10.0163) radius 1
  circle A15 centre (0, 0) radius 4.75
  circle A16 centre (4.7292, 12.8312) radius 1
  circle A17 centre (2.6542, 7.2014) radius 1
  circle A18 centre (-6.8286, 8.2053) radius 1
  circle A19 centre (-13.4768, -2.32) radius 1
  circle A20 centre (-7.5637, -1.3021) radius 1
  circle A21 centre (-3.6917, -10.0163) radius 1
  circle A22 centre (8.7476, -10.5112) radius 1
  circle A23 centre (4.9095, -5.8993) radius 1
  circle A24 centre (10.5203, 1.8111) radius 1
  circle A25 centre (0, 0) radius 1.875
extrude "Выдавливание2" cut sketch "Эскиз2" against normal blind 10 contours A6 | A9 | A12 | A15 | A17 | A20 | A23 | A25
properties part number "000.303 - Шестерня привода"
